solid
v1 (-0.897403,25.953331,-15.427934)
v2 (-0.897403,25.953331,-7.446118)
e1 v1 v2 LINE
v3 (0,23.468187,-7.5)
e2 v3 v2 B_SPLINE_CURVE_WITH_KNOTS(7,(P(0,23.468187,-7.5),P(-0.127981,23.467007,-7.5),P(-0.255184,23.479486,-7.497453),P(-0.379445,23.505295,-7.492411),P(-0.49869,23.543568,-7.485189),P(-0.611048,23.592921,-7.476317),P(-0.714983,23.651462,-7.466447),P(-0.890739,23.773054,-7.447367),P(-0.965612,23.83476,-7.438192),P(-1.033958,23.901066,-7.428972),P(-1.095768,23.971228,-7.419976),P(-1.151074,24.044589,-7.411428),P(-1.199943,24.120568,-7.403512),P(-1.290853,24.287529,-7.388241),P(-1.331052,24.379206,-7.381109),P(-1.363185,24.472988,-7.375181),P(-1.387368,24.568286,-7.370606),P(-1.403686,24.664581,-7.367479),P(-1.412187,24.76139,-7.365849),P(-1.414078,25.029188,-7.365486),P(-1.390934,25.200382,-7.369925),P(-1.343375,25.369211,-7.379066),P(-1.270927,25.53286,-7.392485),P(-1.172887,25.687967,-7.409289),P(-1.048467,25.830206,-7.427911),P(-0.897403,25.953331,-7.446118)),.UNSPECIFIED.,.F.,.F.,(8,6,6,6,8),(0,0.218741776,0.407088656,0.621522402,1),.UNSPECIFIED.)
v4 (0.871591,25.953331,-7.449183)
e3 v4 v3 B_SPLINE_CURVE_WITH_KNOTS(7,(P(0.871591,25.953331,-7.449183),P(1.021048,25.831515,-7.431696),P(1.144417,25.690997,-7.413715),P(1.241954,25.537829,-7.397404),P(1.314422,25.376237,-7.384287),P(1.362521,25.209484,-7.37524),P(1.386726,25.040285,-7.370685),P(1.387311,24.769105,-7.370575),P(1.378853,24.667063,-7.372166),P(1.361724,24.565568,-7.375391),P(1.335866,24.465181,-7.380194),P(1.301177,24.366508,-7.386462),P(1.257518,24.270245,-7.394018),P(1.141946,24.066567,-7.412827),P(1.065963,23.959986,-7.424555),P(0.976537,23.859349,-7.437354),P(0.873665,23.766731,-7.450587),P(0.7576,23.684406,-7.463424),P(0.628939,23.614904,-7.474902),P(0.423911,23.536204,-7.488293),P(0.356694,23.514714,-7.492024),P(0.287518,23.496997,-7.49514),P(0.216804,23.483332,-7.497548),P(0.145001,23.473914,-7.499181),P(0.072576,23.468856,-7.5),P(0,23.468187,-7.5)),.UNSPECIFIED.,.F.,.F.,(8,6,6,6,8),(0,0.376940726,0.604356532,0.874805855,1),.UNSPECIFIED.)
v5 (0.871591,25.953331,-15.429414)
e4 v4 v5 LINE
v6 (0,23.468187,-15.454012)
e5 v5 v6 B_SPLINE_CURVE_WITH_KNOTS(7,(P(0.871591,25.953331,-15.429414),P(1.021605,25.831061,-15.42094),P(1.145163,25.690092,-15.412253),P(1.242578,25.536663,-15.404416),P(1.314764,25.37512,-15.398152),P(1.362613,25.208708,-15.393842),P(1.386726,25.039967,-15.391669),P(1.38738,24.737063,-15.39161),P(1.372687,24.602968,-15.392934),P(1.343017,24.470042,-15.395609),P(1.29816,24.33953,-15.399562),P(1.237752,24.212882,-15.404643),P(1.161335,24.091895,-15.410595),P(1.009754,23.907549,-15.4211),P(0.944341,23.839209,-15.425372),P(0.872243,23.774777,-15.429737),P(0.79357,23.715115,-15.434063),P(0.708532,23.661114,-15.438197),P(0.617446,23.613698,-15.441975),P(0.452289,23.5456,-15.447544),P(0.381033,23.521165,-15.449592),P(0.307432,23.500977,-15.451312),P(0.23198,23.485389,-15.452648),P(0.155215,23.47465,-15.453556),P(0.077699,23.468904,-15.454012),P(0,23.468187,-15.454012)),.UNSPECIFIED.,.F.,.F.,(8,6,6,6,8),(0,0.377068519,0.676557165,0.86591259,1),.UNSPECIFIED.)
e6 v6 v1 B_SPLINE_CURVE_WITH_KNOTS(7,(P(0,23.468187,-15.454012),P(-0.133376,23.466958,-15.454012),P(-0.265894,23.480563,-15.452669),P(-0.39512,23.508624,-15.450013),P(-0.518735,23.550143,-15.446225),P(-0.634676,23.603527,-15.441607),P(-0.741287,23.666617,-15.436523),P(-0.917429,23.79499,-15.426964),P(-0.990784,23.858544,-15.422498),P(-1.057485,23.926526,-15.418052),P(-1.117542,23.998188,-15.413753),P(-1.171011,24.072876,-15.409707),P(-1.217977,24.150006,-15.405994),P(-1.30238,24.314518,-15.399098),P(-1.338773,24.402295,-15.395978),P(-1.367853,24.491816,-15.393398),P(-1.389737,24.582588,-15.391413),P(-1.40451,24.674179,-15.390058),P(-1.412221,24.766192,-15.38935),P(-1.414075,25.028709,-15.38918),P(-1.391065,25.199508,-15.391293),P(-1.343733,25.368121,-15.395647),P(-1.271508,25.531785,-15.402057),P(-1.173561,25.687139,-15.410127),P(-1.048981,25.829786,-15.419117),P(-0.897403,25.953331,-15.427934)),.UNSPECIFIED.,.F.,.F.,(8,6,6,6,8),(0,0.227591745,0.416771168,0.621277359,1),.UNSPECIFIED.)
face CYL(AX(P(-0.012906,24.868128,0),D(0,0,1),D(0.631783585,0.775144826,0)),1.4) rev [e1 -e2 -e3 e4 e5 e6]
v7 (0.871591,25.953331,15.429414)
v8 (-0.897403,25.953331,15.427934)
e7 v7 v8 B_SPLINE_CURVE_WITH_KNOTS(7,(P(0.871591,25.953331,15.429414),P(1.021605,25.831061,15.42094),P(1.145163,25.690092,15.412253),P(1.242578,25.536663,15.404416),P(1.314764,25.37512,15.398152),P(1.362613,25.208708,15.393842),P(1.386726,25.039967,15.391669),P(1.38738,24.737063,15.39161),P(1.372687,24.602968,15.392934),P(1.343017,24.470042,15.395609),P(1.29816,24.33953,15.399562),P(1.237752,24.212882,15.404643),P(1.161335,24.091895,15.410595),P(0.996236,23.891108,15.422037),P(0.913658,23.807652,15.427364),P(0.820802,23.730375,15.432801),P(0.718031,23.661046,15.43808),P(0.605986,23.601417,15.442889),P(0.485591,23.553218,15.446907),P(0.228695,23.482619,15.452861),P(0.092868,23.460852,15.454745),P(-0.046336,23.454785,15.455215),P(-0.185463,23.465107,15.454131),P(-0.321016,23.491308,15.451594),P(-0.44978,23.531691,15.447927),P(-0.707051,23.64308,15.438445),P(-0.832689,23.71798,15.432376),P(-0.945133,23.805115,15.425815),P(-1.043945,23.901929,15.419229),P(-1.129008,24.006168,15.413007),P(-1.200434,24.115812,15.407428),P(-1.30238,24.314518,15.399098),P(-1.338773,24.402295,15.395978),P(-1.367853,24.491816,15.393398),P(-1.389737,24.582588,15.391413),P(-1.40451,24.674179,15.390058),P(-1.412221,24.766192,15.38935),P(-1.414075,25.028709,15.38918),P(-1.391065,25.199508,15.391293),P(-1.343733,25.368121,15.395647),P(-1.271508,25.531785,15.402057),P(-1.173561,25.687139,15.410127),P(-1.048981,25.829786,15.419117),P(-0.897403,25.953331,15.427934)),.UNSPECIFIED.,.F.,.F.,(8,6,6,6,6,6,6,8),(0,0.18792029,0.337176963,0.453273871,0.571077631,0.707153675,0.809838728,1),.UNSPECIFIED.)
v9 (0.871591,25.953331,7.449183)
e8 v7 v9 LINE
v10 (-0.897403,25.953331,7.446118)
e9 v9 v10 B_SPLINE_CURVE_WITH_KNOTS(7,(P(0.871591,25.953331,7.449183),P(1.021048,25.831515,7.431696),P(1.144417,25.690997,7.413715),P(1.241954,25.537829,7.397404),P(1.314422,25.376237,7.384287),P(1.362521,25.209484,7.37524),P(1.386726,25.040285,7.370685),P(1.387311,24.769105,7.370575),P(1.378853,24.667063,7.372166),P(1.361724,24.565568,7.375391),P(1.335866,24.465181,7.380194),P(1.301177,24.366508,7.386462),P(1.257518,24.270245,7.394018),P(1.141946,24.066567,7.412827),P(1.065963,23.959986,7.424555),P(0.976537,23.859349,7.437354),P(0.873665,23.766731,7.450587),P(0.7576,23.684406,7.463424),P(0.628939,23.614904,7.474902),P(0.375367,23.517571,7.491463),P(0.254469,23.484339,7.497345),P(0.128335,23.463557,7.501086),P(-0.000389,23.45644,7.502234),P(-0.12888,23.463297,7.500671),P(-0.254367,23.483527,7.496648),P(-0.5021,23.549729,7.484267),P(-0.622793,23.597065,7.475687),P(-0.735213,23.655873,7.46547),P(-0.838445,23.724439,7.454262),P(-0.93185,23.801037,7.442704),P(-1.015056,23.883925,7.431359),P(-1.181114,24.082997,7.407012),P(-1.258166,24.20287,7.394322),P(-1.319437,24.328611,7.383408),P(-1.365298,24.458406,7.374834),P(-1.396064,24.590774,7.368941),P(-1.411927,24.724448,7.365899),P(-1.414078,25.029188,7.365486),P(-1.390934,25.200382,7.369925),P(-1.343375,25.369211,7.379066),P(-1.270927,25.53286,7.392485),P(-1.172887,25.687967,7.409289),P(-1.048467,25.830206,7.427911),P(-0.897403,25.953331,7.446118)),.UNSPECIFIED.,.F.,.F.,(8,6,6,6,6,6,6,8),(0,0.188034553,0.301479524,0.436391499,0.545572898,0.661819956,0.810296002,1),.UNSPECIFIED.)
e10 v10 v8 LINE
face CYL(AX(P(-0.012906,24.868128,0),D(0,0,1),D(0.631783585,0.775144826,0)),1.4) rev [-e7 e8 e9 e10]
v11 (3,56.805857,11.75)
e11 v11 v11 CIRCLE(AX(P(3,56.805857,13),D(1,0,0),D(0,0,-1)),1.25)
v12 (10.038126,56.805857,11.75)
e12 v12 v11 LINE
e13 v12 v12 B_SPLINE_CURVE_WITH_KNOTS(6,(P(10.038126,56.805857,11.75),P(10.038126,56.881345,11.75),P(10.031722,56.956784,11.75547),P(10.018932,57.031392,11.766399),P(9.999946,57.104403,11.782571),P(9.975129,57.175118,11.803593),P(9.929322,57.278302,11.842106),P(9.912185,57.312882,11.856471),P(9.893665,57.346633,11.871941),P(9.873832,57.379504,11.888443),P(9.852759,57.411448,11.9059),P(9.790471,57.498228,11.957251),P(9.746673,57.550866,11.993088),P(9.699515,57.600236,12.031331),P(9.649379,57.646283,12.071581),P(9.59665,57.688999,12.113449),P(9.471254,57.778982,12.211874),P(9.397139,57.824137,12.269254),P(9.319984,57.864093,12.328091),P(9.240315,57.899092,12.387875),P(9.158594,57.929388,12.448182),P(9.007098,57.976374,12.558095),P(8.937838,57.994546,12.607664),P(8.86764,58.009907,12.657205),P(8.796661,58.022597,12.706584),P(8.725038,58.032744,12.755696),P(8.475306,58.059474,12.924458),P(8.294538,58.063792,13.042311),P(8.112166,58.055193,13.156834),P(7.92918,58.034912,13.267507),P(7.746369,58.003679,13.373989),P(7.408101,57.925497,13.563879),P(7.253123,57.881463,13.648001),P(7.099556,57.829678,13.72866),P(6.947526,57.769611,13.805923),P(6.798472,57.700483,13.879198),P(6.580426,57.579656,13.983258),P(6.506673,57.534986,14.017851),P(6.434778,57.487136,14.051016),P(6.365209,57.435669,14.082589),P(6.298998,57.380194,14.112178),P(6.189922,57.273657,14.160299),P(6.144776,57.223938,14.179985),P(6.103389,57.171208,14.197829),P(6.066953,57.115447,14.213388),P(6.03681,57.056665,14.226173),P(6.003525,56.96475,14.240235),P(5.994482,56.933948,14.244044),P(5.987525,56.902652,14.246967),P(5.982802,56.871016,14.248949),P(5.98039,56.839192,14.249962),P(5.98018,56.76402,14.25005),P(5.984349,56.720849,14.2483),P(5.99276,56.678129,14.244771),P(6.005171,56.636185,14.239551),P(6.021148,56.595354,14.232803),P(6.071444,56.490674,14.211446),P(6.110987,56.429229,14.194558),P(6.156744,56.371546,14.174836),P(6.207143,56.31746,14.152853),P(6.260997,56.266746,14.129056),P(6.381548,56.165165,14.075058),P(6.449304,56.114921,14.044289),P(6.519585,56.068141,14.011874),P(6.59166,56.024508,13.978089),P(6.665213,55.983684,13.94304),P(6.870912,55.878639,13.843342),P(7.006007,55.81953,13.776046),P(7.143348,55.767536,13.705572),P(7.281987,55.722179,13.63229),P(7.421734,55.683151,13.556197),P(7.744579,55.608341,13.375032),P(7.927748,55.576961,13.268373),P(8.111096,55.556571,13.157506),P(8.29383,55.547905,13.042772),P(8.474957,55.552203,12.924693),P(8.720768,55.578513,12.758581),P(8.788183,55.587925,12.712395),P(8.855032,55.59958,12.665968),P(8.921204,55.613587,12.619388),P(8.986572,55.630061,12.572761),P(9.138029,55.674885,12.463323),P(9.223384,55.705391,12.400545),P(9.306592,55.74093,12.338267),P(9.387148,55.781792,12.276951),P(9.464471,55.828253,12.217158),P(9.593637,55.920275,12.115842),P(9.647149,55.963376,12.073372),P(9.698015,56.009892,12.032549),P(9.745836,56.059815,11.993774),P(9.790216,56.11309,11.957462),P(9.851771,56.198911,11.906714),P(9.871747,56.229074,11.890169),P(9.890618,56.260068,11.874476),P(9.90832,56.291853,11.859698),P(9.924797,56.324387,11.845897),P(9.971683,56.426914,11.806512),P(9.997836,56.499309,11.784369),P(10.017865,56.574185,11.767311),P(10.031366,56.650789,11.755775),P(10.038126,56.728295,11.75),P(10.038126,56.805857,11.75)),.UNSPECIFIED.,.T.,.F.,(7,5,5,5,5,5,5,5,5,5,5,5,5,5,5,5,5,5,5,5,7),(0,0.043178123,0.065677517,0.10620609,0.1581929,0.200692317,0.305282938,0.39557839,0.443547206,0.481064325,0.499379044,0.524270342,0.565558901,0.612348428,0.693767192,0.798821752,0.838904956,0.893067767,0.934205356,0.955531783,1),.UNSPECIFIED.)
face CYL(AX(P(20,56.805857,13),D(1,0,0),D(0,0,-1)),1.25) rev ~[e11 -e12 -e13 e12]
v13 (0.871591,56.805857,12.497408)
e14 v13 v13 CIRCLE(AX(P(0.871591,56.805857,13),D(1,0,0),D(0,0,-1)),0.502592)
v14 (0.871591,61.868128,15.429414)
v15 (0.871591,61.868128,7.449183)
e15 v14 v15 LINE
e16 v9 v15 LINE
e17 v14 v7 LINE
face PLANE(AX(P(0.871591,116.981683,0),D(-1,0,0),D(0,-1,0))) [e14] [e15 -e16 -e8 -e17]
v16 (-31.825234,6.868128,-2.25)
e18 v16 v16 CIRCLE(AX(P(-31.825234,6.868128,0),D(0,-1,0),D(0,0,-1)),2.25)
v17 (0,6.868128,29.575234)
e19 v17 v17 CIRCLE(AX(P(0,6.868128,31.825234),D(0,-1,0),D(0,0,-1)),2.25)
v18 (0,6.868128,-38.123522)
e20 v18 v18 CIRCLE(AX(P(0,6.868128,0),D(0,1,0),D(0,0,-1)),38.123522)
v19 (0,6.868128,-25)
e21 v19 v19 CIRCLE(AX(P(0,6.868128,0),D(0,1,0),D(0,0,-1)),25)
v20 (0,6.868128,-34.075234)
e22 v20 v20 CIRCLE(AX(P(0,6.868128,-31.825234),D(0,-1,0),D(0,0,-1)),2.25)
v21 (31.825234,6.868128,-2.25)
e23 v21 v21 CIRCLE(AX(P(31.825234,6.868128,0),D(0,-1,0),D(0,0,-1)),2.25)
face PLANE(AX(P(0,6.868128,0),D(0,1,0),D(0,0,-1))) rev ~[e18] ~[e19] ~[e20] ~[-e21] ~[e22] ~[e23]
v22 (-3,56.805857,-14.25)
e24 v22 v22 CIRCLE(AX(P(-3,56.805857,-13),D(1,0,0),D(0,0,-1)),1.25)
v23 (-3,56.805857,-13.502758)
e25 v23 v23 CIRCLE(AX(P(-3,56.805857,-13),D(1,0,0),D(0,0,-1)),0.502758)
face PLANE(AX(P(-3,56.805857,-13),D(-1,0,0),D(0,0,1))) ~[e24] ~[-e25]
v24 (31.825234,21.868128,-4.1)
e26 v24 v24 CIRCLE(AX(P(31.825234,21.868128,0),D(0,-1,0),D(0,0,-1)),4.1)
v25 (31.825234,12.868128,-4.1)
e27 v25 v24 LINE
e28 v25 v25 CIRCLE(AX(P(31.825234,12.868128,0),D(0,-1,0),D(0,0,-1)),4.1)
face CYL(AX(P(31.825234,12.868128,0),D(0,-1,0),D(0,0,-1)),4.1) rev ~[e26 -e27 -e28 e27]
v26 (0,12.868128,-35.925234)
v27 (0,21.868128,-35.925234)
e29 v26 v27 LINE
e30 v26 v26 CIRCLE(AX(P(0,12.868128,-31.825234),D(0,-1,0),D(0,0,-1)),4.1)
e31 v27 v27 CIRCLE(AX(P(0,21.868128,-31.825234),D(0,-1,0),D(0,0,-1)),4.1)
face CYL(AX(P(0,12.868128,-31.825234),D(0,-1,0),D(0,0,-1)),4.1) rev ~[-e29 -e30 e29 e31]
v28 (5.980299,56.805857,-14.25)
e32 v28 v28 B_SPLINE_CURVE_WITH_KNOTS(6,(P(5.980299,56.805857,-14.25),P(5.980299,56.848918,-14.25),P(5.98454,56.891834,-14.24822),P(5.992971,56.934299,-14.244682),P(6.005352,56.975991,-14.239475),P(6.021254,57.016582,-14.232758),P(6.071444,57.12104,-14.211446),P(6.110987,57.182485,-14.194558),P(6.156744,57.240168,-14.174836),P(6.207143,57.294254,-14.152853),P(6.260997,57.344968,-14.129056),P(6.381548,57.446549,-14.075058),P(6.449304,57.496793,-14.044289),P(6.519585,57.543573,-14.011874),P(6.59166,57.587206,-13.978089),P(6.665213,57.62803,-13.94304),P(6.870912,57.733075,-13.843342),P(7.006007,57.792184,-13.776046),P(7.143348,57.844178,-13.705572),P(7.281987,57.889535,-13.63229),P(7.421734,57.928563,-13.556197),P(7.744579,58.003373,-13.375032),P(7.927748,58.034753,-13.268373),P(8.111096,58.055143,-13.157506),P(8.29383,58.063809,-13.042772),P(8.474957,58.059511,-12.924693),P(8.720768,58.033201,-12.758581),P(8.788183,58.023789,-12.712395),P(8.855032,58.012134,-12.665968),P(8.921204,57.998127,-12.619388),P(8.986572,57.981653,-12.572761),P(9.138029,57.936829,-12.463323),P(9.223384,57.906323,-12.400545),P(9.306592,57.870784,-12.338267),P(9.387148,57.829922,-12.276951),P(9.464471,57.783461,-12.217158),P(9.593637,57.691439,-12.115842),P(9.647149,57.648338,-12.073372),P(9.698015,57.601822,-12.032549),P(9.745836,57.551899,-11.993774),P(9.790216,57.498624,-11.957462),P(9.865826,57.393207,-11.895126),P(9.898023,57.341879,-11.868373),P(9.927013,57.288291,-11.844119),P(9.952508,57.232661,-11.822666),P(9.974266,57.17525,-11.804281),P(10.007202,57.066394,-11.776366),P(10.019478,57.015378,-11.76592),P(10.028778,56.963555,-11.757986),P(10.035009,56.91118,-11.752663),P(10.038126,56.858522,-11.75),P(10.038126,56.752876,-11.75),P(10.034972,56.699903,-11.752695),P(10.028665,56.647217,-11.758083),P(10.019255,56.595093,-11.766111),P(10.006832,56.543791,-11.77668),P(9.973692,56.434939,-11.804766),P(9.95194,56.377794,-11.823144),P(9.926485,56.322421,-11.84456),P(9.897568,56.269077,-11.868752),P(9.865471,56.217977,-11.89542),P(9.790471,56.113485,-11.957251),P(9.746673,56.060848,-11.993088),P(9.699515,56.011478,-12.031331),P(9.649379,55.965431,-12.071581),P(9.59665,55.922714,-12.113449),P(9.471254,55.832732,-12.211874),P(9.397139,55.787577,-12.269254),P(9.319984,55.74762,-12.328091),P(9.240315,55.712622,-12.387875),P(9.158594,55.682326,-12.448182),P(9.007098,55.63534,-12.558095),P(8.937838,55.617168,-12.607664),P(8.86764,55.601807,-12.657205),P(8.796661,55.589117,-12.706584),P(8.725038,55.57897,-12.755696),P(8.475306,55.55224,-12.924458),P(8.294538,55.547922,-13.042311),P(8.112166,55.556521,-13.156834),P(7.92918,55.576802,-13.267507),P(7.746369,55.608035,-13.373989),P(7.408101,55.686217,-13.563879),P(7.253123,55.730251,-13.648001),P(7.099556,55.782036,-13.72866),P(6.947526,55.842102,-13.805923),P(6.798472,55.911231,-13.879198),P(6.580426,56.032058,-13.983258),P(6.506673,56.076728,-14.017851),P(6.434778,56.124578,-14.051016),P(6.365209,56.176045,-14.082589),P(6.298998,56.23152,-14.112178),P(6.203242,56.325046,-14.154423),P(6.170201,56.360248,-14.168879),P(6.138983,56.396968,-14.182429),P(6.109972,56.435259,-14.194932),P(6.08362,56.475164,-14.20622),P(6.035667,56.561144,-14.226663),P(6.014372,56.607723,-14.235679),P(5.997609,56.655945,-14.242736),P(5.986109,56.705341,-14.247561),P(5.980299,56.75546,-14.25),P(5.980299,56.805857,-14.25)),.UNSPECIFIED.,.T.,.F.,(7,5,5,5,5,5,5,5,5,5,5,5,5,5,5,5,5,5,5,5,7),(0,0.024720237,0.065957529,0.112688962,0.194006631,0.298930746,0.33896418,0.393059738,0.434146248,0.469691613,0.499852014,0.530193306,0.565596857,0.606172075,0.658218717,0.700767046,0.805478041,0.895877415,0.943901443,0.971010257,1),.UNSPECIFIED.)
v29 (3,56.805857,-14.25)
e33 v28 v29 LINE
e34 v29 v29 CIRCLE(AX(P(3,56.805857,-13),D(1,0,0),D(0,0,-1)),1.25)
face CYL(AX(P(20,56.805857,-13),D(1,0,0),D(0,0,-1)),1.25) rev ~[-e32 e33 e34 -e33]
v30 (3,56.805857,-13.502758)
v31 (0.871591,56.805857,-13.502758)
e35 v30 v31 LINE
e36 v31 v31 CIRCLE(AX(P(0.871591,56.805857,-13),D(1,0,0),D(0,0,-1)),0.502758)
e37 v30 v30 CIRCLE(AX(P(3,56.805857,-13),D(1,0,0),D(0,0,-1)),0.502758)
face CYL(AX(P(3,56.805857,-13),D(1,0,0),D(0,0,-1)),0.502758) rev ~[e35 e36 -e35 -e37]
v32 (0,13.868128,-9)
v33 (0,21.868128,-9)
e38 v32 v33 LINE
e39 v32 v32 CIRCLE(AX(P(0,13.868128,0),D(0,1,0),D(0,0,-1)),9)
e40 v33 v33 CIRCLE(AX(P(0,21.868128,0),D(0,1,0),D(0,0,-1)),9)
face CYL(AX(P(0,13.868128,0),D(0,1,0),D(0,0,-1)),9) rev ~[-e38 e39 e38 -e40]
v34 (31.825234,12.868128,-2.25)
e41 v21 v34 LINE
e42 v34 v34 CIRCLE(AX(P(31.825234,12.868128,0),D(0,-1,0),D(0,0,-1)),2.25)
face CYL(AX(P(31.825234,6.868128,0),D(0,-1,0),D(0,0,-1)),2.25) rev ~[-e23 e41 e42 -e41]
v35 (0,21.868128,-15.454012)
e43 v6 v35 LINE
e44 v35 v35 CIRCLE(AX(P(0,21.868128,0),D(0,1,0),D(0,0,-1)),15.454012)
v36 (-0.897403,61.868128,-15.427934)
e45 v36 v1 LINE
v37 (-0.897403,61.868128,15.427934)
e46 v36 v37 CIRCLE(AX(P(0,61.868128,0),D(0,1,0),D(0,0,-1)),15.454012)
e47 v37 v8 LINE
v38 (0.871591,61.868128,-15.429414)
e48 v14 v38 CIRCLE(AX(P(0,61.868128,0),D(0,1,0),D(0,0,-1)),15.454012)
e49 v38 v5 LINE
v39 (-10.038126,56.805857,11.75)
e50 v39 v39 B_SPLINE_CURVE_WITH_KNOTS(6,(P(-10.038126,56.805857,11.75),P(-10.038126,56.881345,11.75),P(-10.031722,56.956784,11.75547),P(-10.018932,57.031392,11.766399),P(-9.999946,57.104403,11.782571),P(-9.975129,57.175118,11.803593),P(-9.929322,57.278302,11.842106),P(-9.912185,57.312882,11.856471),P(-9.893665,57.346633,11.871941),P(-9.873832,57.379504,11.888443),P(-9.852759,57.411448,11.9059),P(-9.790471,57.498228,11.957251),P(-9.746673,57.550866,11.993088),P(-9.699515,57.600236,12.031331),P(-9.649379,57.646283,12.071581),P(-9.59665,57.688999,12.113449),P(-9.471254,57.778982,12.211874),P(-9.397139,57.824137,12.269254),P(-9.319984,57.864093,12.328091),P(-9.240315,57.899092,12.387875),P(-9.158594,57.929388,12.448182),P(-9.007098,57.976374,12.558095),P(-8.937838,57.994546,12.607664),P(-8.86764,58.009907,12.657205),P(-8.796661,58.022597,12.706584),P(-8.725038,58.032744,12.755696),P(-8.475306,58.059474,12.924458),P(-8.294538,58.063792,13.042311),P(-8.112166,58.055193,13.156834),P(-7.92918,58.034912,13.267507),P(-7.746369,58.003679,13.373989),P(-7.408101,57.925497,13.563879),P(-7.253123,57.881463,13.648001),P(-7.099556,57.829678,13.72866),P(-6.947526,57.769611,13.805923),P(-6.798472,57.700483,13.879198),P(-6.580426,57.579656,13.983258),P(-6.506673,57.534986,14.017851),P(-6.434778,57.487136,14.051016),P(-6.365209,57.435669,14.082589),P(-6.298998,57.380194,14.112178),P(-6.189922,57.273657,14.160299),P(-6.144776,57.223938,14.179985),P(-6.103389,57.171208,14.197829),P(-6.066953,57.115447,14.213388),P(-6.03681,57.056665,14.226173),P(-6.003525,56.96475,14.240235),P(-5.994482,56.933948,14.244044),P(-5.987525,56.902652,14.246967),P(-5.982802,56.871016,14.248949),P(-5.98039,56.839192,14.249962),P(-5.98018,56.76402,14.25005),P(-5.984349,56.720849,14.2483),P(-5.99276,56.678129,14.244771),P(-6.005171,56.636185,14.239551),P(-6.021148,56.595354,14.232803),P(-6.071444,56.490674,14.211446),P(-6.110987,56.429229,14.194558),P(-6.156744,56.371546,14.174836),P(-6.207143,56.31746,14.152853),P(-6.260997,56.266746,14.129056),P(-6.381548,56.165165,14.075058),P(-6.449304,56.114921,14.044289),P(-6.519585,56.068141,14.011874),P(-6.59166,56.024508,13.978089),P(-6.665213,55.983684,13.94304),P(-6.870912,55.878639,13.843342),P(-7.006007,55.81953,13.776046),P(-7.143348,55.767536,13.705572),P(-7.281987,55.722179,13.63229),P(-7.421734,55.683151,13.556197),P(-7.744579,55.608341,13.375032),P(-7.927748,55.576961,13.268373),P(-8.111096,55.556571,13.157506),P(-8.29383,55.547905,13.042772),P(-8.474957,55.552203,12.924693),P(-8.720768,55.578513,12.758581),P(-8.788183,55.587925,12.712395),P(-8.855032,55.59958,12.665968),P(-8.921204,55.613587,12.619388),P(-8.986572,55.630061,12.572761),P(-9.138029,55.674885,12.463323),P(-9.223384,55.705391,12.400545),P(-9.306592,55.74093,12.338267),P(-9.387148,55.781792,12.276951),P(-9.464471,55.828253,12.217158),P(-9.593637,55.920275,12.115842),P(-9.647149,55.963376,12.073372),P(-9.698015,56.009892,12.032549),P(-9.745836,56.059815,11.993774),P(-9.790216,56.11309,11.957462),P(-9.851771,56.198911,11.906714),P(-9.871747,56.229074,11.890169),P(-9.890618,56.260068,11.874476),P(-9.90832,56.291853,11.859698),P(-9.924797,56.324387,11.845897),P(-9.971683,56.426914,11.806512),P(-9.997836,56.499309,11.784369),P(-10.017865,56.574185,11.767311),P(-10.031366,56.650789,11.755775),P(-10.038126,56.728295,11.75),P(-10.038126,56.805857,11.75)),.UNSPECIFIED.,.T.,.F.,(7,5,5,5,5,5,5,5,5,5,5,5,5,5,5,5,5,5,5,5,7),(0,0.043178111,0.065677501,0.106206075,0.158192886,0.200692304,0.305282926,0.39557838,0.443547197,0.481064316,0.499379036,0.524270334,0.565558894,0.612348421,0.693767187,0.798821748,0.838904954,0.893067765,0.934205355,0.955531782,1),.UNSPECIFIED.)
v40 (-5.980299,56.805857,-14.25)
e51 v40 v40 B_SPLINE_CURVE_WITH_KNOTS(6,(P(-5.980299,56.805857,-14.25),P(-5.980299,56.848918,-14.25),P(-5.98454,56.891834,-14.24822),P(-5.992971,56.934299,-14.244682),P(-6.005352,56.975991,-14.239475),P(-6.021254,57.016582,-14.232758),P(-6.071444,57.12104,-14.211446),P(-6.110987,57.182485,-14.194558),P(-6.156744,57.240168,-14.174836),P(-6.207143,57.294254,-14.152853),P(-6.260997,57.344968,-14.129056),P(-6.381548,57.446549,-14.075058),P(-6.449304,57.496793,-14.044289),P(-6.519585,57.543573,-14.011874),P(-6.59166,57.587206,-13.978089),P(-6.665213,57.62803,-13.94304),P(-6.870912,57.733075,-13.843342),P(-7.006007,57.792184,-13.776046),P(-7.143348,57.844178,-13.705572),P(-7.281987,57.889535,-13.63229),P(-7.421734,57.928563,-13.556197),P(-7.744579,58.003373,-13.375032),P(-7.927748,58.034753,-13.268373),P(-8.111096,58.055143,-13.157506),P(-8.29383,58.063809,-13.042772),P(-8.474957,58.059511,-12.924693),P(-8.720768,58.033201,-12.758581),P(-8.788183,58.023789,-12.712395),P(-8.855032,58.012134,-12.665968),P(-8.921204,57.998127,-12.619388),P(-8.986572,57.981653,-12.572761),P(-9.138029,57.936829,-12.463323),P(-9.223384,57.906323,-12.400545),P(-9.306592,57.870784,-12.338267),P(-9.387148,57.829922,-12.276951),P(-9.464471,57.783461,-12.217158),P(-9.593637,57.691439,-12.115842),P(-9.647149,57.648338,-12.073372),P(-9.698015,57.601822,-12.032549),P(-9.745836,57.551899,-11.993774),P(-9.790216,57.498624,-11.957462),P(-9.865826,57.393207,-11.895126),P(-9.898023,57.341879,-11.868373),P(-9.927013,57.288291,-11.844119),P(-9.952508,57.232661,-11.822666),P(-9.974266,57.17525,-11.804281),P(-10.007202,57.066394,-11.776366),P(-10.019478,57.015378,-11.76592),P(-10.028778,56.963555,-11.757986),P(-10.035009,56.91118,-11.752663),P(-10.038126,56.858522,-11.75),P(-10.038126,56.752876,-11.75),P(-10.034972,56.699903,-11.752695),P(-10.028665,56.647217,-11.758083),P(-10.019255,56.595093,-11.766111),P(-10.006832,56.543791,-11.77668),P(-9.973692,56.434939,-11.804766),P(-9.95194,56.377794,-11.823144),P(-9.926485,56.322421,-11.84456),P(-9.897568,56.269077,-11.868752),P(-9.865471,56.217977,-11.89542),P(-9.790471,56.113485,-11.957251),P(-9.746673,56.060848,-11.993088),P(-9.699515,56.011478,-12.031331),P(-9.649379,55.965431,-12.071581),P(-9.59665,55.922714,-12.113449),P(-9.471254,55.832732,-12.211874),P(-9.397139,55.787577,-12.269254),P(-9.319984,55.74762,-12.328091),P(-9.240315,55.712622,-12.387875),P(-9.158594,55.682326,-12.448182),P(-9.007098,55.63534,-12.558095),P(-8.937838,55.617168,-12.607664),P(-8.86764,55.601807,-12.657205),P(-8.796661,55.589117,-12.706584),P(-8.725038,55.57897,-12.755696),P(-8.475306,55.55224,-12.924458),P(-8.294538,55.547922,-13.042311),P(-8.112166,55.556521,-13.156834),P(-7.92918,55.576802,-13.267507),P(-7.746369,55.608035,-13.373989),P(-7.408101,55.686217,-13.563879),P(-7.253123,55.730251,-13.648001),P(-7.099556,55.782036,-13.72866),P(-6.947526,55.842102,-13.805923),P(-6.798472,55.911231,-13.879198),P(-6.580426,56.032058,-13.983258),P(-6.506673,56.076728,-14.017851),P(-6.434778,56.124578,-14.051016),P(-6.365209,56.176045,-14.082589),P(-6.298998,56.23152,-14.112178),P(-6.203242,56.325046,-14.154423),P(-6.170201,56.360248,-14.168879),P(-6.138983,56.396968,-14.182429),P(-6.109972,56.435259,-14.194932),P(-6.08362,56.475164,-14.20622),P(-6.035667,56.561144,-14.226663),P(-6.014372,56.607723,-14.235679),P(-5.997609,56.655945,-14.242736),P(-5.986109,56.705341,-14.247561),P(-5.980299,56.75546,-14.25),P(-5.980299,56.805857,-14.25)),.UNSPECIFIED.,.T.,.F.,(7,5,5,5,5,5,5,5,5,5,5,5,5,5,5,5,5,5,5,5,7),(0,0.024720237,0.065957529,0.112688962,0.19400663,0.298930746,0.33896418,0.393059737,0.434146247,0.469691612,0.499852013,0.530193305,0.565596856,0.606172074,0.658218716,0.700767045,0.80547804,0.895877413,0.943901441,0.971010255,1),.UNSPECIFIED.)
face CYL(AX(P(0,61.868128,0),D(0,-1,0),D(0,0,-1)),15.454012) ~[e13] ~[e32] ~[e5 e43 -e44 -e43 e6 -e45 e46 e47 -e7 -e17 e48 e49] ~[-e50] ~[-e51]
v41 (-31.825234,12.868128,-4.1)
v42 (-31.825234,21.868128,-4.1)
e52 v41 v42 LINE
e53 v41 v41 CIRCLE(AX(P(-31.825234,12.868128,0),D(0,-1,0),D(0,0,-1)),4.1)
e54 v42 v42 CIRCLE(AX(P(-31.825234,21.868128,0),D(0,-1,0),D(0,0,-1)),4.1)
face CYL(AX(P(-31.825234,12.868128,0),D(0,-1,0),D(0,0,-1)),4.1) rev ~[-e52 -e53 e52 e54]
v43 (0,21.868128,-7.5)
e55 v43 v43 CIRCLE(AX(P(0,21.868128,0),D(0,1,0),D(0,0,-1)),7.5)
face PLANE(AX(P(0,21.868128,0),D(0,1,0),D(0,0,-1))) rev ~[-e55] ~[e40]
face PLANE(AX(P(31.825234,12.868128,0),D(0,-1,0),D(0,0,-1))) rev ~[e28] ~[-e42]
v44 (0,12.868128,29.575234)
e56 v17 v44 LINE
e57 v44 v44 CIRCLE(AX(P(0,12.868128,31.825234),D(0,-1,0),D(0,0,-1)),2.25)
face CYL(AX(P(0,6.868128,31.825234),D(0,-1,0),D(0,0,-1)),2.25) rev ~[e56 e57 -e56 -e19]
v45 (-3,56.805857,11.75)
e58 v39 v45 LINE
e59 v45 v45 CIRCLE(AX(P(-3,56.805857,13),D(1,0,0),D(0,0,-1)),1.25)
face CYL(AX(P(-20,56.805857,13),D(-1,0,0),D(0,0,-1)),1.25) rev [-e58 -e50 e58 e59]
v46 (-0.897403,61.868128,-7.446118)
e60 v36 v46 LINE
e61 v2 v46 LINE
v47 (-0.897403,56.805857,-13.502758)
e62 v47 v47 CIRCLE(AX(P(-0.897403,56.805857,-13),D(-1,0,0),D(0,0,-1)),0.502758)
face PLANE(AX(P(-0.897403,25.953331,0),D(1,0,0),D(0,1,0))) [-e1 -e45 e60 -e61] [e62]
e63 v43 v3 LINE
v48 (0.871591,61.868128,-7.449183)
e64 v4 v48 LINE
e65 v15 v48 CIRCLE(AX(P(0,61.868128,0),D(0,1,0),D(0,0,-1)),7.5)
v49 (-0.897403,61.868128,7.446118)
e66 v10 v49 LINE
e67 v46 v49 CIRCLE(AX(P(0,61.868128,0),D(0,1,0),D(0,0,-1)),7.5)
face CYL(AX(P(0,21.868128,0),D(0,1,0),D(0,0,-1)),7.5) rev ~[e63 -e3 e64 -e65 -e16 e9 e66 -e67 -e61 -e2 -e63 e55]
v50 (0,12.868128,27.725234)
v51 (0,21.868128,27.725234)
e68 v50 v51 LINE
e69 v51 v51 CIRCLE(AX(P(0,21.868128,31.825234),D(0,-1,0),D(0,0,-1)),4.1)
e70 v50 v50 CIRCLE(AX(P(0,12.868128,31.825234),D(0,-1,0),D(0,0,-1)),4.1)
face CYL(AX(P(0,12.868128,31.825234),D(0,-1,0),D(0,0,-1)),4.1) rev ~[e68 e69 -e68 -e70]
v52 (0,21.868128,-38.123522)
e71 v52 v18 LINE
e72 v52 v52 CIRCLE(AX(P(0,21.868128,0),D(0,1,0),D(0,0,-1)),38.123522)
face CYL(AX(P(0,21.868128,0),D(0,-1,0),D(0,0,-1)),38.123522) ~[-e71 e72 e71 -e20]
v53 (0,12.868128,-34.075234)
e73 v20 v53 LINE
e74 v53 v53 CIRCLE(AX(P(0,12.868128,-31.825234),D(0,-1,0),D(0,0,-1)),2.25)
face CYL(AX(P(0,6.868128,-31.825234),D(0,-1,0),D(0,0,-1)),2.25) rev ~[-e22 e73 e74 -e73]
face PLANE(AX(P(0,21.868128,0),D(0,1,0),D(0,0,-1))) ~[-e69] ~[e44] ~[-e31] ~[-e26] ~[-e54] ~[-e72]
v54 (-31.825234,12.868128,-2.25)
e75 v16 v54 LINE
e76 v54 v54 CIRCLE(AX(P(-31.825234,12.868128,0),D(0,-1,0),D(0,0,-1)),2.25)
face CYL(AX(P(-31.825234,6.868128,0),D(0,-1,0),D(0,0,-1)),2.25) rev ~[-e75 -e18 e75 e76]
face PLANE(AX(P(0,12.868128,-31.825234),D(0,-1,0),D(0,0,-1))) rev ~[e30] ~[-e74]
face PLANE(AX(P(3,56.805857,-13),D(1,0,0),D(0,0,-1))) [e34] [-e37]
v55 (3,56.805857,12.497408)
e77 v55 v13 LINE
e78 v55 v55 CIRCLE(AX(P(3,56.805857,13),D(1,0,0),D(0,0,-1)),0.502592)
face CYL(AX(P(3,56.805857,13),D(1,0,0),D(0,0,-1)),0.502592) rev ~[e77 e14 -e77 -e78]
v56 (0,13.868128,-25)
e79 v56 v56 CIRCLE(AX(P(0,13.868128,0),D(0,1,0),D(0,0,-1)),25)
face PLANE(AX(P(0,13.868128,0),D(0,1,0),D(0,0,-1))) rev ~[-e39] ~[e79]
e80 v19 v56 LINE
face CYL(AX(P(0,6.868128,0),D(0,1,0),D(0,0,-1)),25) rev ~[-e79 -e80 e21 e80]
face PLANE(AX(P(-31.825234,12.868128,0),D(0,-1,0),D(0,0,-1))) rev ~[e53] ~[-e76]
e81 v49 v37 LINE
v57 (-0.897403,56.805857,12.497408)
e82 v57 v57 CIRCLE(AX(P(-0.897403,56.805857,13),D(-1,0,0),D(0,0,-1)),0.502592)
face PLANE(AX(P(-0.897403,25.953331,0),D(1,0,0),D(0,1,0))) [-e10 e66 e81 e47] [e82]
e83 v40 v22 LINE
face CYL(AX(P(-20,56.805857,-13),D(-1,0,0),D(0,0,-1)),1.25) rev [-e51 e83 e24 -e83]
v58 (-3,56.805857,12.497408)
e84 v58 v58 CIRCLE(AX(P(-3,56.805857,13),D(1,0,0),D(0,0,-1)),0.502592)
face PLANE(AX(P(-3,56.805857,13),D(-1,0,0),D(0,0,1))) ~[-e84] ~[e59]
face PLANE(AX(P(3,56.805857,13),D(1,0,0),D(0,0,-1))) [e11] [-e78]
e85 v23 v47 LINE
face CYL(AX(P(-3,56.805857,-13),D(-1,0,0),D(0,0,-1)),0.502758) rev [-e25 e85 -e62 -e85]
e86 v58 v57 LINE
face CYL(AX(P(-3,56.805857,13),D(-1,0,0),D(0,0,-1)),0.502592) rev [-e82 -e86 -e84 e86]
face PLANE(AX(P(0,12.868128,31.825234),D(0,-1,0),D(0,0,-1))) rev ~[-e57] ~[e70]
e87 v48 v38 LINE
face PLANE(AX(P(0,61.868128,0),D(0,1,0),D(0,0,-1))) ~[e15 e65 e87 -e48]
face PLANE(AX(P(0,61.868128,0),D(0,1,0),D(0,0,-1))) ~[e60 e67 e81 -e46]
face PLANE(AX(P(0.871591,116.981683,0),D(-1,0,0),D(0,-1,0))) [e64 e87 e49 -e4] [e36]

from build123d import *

# Parameters (mm, degrees)
CUT_EXTRUDE1_DEPTH = 20
SKETCH3_R          = 1.25
CUT_EXTRUDE2_DEPTH = 17
SKETCH4_R          = 0.502757778
SKETCH4_R_2        = 0.50259211
CUT_EXTRUDE3_DEPTH = 3
SKETCH5_R          = 2.25
CUT_EXTRUDE4_DEPTH = 6
SKETCH6_R          = 4.1
CUT_EXTRUDE5_DEPTH = 26


with BuildPart() as part:
    # Sketch1 → Revolve1 (revolve)
    with BuildSketch(Plane.XY, mode=Mode.PRIVATE) as revolve1_sk:
        Polygon((7.5, 61.86812787), (15.454011649, 61.86812787), (15.454011649, 21.86812787), (38.123522242, 21.86812787), (38.123522242, 6.86812787), (25, 6.86812787), (25, 13.86812787), (9, 13.86812787), (9, 21.86812787), (7.5, 21.86812787), align=None)
    revolve(revolve1_sk.sketch.rotate(Axis((0, 0, 0), (0, 1, 0)), 90), axis=Axis((0, 0, 0), (0, 1, 0)))

    # Sketch2 → Cut-Extrude1 (cut, symmetric)
    with BuildSketch(Plane.XY):
        with BuildLine():
            Line((-0.897403203, 116.981683018), (0.871590836, 116.981683018))
            Line((0.871590836, 116.981683018), (0.871590836, 25.953330627))
            ThreePointArc((0.871590836, 25.953330627), (-0.012906183, 23.46812787), (-0.897403203, 25.953330627))
            Line((-0.897403203, 25.953330627), (-0.897403203, 116.981683018))
        make_face()
    extrude(amount=CUT_EXTRUDE1_DEPTH, both=True, mode=Mode.SUBTRACT)

    # Sketch3 → Cut-Extrude2 (cut)
    with BuildSketch(Plane(origin=(20, 0, 0), x_dir=(0, 0, -1), z_dir=(1, 0, 0))):
        with Locations((-13, 56.805856976)):
            Circle(SKETCH3_R)
        with Locations((13, 56.805856976)):
            Circle(SKETCH3_R)
    cut_extrude2 = extrude(amount=-CUT_EXTRUDE2_DEPTH, mode=Mode.SUBTRACT)

    # Sketch4 → Cut-Extrude3 (cut)
    with BuildSketch(Plane(origin=(3, 0, 0), x_dir=(0, 0, -1), z_dir=(1, 0, 0))):
        with Locations((13, 56.805856976)):
            Circle(SKETCH4_R)
        with Locations((-13, 56.805856976)):
            Circle(SKETCH4_R_2)
    cut_extrude3 = extrude(amount=-CUT_EXTRUDE3_DEPTH, mode=Mode.SUBTRACT)

    # Mirror1: Cut-Extrude2, Cut-Extrude3 across plane
    add(cut_extrude2.mirror(Plane(origin=(0, 0, 0), x_dir=(0, 0, 1), z_dir=(1, 0, 0))), mode=Mode.SUBTRACT)
    add(cut_extrude3.mirror(Plane(origin=(0, 0, 0), x_dir=(0, 0, 1), z_dir=(1, 0, 0))), mode=Mode.SUBTRACT)

    # Sketch5 → Cut-Extrude4 (cut)
    with BuildSketch(Plane.XZ.offset(-6.86812787)):
        with Locations(Location((31.825233869, 0, 0), (0, 0, 270))):
            Circle(SKETCH5_R)
        with Locations(Location((0, -31.825233869, 0), (0, 0, 270))):
            Circle(SKETCH5_R)
        with Locations(Location((-31.825233869, 0, 0), (0, 0, 270))):
            Circle(SKETCH5_R)
        with Locations(Location((0, 31.825233869, 0), (0, 0, 270))):
            Circle(SKETCH5_R)
    extrude(amount=-CUT_EXTRUDE4_DEPTH, mode=Mode.SUBTRACT)

    # Sketch6 → Cut-Extrude5 (cut)
    with BuildSketch(Plane.XZ.offset(-12.86812787)):
        with Locations(Location((0, 31.825233869, 0), (0, 0, 270))):
            Circle(SKETCH6_R)
        with Locations(Location((31.825233869, 0, 0), (0, 0, 270))):
            Circle(SKETCH6_R)
        with Locations(Location((0, -31.825233869, 0), (0, 0, 270))):
            Circle(SKETCH6_R)
        with Locations(Location((-31.825233869, 0, 0), (0, 0, 270))):
            Circle(SKETCH6_R)
    extrude(amount=-CUT_EXTRUDE5_DEPTH, mode=Mode.SUBTRACT)


solid = part.part
